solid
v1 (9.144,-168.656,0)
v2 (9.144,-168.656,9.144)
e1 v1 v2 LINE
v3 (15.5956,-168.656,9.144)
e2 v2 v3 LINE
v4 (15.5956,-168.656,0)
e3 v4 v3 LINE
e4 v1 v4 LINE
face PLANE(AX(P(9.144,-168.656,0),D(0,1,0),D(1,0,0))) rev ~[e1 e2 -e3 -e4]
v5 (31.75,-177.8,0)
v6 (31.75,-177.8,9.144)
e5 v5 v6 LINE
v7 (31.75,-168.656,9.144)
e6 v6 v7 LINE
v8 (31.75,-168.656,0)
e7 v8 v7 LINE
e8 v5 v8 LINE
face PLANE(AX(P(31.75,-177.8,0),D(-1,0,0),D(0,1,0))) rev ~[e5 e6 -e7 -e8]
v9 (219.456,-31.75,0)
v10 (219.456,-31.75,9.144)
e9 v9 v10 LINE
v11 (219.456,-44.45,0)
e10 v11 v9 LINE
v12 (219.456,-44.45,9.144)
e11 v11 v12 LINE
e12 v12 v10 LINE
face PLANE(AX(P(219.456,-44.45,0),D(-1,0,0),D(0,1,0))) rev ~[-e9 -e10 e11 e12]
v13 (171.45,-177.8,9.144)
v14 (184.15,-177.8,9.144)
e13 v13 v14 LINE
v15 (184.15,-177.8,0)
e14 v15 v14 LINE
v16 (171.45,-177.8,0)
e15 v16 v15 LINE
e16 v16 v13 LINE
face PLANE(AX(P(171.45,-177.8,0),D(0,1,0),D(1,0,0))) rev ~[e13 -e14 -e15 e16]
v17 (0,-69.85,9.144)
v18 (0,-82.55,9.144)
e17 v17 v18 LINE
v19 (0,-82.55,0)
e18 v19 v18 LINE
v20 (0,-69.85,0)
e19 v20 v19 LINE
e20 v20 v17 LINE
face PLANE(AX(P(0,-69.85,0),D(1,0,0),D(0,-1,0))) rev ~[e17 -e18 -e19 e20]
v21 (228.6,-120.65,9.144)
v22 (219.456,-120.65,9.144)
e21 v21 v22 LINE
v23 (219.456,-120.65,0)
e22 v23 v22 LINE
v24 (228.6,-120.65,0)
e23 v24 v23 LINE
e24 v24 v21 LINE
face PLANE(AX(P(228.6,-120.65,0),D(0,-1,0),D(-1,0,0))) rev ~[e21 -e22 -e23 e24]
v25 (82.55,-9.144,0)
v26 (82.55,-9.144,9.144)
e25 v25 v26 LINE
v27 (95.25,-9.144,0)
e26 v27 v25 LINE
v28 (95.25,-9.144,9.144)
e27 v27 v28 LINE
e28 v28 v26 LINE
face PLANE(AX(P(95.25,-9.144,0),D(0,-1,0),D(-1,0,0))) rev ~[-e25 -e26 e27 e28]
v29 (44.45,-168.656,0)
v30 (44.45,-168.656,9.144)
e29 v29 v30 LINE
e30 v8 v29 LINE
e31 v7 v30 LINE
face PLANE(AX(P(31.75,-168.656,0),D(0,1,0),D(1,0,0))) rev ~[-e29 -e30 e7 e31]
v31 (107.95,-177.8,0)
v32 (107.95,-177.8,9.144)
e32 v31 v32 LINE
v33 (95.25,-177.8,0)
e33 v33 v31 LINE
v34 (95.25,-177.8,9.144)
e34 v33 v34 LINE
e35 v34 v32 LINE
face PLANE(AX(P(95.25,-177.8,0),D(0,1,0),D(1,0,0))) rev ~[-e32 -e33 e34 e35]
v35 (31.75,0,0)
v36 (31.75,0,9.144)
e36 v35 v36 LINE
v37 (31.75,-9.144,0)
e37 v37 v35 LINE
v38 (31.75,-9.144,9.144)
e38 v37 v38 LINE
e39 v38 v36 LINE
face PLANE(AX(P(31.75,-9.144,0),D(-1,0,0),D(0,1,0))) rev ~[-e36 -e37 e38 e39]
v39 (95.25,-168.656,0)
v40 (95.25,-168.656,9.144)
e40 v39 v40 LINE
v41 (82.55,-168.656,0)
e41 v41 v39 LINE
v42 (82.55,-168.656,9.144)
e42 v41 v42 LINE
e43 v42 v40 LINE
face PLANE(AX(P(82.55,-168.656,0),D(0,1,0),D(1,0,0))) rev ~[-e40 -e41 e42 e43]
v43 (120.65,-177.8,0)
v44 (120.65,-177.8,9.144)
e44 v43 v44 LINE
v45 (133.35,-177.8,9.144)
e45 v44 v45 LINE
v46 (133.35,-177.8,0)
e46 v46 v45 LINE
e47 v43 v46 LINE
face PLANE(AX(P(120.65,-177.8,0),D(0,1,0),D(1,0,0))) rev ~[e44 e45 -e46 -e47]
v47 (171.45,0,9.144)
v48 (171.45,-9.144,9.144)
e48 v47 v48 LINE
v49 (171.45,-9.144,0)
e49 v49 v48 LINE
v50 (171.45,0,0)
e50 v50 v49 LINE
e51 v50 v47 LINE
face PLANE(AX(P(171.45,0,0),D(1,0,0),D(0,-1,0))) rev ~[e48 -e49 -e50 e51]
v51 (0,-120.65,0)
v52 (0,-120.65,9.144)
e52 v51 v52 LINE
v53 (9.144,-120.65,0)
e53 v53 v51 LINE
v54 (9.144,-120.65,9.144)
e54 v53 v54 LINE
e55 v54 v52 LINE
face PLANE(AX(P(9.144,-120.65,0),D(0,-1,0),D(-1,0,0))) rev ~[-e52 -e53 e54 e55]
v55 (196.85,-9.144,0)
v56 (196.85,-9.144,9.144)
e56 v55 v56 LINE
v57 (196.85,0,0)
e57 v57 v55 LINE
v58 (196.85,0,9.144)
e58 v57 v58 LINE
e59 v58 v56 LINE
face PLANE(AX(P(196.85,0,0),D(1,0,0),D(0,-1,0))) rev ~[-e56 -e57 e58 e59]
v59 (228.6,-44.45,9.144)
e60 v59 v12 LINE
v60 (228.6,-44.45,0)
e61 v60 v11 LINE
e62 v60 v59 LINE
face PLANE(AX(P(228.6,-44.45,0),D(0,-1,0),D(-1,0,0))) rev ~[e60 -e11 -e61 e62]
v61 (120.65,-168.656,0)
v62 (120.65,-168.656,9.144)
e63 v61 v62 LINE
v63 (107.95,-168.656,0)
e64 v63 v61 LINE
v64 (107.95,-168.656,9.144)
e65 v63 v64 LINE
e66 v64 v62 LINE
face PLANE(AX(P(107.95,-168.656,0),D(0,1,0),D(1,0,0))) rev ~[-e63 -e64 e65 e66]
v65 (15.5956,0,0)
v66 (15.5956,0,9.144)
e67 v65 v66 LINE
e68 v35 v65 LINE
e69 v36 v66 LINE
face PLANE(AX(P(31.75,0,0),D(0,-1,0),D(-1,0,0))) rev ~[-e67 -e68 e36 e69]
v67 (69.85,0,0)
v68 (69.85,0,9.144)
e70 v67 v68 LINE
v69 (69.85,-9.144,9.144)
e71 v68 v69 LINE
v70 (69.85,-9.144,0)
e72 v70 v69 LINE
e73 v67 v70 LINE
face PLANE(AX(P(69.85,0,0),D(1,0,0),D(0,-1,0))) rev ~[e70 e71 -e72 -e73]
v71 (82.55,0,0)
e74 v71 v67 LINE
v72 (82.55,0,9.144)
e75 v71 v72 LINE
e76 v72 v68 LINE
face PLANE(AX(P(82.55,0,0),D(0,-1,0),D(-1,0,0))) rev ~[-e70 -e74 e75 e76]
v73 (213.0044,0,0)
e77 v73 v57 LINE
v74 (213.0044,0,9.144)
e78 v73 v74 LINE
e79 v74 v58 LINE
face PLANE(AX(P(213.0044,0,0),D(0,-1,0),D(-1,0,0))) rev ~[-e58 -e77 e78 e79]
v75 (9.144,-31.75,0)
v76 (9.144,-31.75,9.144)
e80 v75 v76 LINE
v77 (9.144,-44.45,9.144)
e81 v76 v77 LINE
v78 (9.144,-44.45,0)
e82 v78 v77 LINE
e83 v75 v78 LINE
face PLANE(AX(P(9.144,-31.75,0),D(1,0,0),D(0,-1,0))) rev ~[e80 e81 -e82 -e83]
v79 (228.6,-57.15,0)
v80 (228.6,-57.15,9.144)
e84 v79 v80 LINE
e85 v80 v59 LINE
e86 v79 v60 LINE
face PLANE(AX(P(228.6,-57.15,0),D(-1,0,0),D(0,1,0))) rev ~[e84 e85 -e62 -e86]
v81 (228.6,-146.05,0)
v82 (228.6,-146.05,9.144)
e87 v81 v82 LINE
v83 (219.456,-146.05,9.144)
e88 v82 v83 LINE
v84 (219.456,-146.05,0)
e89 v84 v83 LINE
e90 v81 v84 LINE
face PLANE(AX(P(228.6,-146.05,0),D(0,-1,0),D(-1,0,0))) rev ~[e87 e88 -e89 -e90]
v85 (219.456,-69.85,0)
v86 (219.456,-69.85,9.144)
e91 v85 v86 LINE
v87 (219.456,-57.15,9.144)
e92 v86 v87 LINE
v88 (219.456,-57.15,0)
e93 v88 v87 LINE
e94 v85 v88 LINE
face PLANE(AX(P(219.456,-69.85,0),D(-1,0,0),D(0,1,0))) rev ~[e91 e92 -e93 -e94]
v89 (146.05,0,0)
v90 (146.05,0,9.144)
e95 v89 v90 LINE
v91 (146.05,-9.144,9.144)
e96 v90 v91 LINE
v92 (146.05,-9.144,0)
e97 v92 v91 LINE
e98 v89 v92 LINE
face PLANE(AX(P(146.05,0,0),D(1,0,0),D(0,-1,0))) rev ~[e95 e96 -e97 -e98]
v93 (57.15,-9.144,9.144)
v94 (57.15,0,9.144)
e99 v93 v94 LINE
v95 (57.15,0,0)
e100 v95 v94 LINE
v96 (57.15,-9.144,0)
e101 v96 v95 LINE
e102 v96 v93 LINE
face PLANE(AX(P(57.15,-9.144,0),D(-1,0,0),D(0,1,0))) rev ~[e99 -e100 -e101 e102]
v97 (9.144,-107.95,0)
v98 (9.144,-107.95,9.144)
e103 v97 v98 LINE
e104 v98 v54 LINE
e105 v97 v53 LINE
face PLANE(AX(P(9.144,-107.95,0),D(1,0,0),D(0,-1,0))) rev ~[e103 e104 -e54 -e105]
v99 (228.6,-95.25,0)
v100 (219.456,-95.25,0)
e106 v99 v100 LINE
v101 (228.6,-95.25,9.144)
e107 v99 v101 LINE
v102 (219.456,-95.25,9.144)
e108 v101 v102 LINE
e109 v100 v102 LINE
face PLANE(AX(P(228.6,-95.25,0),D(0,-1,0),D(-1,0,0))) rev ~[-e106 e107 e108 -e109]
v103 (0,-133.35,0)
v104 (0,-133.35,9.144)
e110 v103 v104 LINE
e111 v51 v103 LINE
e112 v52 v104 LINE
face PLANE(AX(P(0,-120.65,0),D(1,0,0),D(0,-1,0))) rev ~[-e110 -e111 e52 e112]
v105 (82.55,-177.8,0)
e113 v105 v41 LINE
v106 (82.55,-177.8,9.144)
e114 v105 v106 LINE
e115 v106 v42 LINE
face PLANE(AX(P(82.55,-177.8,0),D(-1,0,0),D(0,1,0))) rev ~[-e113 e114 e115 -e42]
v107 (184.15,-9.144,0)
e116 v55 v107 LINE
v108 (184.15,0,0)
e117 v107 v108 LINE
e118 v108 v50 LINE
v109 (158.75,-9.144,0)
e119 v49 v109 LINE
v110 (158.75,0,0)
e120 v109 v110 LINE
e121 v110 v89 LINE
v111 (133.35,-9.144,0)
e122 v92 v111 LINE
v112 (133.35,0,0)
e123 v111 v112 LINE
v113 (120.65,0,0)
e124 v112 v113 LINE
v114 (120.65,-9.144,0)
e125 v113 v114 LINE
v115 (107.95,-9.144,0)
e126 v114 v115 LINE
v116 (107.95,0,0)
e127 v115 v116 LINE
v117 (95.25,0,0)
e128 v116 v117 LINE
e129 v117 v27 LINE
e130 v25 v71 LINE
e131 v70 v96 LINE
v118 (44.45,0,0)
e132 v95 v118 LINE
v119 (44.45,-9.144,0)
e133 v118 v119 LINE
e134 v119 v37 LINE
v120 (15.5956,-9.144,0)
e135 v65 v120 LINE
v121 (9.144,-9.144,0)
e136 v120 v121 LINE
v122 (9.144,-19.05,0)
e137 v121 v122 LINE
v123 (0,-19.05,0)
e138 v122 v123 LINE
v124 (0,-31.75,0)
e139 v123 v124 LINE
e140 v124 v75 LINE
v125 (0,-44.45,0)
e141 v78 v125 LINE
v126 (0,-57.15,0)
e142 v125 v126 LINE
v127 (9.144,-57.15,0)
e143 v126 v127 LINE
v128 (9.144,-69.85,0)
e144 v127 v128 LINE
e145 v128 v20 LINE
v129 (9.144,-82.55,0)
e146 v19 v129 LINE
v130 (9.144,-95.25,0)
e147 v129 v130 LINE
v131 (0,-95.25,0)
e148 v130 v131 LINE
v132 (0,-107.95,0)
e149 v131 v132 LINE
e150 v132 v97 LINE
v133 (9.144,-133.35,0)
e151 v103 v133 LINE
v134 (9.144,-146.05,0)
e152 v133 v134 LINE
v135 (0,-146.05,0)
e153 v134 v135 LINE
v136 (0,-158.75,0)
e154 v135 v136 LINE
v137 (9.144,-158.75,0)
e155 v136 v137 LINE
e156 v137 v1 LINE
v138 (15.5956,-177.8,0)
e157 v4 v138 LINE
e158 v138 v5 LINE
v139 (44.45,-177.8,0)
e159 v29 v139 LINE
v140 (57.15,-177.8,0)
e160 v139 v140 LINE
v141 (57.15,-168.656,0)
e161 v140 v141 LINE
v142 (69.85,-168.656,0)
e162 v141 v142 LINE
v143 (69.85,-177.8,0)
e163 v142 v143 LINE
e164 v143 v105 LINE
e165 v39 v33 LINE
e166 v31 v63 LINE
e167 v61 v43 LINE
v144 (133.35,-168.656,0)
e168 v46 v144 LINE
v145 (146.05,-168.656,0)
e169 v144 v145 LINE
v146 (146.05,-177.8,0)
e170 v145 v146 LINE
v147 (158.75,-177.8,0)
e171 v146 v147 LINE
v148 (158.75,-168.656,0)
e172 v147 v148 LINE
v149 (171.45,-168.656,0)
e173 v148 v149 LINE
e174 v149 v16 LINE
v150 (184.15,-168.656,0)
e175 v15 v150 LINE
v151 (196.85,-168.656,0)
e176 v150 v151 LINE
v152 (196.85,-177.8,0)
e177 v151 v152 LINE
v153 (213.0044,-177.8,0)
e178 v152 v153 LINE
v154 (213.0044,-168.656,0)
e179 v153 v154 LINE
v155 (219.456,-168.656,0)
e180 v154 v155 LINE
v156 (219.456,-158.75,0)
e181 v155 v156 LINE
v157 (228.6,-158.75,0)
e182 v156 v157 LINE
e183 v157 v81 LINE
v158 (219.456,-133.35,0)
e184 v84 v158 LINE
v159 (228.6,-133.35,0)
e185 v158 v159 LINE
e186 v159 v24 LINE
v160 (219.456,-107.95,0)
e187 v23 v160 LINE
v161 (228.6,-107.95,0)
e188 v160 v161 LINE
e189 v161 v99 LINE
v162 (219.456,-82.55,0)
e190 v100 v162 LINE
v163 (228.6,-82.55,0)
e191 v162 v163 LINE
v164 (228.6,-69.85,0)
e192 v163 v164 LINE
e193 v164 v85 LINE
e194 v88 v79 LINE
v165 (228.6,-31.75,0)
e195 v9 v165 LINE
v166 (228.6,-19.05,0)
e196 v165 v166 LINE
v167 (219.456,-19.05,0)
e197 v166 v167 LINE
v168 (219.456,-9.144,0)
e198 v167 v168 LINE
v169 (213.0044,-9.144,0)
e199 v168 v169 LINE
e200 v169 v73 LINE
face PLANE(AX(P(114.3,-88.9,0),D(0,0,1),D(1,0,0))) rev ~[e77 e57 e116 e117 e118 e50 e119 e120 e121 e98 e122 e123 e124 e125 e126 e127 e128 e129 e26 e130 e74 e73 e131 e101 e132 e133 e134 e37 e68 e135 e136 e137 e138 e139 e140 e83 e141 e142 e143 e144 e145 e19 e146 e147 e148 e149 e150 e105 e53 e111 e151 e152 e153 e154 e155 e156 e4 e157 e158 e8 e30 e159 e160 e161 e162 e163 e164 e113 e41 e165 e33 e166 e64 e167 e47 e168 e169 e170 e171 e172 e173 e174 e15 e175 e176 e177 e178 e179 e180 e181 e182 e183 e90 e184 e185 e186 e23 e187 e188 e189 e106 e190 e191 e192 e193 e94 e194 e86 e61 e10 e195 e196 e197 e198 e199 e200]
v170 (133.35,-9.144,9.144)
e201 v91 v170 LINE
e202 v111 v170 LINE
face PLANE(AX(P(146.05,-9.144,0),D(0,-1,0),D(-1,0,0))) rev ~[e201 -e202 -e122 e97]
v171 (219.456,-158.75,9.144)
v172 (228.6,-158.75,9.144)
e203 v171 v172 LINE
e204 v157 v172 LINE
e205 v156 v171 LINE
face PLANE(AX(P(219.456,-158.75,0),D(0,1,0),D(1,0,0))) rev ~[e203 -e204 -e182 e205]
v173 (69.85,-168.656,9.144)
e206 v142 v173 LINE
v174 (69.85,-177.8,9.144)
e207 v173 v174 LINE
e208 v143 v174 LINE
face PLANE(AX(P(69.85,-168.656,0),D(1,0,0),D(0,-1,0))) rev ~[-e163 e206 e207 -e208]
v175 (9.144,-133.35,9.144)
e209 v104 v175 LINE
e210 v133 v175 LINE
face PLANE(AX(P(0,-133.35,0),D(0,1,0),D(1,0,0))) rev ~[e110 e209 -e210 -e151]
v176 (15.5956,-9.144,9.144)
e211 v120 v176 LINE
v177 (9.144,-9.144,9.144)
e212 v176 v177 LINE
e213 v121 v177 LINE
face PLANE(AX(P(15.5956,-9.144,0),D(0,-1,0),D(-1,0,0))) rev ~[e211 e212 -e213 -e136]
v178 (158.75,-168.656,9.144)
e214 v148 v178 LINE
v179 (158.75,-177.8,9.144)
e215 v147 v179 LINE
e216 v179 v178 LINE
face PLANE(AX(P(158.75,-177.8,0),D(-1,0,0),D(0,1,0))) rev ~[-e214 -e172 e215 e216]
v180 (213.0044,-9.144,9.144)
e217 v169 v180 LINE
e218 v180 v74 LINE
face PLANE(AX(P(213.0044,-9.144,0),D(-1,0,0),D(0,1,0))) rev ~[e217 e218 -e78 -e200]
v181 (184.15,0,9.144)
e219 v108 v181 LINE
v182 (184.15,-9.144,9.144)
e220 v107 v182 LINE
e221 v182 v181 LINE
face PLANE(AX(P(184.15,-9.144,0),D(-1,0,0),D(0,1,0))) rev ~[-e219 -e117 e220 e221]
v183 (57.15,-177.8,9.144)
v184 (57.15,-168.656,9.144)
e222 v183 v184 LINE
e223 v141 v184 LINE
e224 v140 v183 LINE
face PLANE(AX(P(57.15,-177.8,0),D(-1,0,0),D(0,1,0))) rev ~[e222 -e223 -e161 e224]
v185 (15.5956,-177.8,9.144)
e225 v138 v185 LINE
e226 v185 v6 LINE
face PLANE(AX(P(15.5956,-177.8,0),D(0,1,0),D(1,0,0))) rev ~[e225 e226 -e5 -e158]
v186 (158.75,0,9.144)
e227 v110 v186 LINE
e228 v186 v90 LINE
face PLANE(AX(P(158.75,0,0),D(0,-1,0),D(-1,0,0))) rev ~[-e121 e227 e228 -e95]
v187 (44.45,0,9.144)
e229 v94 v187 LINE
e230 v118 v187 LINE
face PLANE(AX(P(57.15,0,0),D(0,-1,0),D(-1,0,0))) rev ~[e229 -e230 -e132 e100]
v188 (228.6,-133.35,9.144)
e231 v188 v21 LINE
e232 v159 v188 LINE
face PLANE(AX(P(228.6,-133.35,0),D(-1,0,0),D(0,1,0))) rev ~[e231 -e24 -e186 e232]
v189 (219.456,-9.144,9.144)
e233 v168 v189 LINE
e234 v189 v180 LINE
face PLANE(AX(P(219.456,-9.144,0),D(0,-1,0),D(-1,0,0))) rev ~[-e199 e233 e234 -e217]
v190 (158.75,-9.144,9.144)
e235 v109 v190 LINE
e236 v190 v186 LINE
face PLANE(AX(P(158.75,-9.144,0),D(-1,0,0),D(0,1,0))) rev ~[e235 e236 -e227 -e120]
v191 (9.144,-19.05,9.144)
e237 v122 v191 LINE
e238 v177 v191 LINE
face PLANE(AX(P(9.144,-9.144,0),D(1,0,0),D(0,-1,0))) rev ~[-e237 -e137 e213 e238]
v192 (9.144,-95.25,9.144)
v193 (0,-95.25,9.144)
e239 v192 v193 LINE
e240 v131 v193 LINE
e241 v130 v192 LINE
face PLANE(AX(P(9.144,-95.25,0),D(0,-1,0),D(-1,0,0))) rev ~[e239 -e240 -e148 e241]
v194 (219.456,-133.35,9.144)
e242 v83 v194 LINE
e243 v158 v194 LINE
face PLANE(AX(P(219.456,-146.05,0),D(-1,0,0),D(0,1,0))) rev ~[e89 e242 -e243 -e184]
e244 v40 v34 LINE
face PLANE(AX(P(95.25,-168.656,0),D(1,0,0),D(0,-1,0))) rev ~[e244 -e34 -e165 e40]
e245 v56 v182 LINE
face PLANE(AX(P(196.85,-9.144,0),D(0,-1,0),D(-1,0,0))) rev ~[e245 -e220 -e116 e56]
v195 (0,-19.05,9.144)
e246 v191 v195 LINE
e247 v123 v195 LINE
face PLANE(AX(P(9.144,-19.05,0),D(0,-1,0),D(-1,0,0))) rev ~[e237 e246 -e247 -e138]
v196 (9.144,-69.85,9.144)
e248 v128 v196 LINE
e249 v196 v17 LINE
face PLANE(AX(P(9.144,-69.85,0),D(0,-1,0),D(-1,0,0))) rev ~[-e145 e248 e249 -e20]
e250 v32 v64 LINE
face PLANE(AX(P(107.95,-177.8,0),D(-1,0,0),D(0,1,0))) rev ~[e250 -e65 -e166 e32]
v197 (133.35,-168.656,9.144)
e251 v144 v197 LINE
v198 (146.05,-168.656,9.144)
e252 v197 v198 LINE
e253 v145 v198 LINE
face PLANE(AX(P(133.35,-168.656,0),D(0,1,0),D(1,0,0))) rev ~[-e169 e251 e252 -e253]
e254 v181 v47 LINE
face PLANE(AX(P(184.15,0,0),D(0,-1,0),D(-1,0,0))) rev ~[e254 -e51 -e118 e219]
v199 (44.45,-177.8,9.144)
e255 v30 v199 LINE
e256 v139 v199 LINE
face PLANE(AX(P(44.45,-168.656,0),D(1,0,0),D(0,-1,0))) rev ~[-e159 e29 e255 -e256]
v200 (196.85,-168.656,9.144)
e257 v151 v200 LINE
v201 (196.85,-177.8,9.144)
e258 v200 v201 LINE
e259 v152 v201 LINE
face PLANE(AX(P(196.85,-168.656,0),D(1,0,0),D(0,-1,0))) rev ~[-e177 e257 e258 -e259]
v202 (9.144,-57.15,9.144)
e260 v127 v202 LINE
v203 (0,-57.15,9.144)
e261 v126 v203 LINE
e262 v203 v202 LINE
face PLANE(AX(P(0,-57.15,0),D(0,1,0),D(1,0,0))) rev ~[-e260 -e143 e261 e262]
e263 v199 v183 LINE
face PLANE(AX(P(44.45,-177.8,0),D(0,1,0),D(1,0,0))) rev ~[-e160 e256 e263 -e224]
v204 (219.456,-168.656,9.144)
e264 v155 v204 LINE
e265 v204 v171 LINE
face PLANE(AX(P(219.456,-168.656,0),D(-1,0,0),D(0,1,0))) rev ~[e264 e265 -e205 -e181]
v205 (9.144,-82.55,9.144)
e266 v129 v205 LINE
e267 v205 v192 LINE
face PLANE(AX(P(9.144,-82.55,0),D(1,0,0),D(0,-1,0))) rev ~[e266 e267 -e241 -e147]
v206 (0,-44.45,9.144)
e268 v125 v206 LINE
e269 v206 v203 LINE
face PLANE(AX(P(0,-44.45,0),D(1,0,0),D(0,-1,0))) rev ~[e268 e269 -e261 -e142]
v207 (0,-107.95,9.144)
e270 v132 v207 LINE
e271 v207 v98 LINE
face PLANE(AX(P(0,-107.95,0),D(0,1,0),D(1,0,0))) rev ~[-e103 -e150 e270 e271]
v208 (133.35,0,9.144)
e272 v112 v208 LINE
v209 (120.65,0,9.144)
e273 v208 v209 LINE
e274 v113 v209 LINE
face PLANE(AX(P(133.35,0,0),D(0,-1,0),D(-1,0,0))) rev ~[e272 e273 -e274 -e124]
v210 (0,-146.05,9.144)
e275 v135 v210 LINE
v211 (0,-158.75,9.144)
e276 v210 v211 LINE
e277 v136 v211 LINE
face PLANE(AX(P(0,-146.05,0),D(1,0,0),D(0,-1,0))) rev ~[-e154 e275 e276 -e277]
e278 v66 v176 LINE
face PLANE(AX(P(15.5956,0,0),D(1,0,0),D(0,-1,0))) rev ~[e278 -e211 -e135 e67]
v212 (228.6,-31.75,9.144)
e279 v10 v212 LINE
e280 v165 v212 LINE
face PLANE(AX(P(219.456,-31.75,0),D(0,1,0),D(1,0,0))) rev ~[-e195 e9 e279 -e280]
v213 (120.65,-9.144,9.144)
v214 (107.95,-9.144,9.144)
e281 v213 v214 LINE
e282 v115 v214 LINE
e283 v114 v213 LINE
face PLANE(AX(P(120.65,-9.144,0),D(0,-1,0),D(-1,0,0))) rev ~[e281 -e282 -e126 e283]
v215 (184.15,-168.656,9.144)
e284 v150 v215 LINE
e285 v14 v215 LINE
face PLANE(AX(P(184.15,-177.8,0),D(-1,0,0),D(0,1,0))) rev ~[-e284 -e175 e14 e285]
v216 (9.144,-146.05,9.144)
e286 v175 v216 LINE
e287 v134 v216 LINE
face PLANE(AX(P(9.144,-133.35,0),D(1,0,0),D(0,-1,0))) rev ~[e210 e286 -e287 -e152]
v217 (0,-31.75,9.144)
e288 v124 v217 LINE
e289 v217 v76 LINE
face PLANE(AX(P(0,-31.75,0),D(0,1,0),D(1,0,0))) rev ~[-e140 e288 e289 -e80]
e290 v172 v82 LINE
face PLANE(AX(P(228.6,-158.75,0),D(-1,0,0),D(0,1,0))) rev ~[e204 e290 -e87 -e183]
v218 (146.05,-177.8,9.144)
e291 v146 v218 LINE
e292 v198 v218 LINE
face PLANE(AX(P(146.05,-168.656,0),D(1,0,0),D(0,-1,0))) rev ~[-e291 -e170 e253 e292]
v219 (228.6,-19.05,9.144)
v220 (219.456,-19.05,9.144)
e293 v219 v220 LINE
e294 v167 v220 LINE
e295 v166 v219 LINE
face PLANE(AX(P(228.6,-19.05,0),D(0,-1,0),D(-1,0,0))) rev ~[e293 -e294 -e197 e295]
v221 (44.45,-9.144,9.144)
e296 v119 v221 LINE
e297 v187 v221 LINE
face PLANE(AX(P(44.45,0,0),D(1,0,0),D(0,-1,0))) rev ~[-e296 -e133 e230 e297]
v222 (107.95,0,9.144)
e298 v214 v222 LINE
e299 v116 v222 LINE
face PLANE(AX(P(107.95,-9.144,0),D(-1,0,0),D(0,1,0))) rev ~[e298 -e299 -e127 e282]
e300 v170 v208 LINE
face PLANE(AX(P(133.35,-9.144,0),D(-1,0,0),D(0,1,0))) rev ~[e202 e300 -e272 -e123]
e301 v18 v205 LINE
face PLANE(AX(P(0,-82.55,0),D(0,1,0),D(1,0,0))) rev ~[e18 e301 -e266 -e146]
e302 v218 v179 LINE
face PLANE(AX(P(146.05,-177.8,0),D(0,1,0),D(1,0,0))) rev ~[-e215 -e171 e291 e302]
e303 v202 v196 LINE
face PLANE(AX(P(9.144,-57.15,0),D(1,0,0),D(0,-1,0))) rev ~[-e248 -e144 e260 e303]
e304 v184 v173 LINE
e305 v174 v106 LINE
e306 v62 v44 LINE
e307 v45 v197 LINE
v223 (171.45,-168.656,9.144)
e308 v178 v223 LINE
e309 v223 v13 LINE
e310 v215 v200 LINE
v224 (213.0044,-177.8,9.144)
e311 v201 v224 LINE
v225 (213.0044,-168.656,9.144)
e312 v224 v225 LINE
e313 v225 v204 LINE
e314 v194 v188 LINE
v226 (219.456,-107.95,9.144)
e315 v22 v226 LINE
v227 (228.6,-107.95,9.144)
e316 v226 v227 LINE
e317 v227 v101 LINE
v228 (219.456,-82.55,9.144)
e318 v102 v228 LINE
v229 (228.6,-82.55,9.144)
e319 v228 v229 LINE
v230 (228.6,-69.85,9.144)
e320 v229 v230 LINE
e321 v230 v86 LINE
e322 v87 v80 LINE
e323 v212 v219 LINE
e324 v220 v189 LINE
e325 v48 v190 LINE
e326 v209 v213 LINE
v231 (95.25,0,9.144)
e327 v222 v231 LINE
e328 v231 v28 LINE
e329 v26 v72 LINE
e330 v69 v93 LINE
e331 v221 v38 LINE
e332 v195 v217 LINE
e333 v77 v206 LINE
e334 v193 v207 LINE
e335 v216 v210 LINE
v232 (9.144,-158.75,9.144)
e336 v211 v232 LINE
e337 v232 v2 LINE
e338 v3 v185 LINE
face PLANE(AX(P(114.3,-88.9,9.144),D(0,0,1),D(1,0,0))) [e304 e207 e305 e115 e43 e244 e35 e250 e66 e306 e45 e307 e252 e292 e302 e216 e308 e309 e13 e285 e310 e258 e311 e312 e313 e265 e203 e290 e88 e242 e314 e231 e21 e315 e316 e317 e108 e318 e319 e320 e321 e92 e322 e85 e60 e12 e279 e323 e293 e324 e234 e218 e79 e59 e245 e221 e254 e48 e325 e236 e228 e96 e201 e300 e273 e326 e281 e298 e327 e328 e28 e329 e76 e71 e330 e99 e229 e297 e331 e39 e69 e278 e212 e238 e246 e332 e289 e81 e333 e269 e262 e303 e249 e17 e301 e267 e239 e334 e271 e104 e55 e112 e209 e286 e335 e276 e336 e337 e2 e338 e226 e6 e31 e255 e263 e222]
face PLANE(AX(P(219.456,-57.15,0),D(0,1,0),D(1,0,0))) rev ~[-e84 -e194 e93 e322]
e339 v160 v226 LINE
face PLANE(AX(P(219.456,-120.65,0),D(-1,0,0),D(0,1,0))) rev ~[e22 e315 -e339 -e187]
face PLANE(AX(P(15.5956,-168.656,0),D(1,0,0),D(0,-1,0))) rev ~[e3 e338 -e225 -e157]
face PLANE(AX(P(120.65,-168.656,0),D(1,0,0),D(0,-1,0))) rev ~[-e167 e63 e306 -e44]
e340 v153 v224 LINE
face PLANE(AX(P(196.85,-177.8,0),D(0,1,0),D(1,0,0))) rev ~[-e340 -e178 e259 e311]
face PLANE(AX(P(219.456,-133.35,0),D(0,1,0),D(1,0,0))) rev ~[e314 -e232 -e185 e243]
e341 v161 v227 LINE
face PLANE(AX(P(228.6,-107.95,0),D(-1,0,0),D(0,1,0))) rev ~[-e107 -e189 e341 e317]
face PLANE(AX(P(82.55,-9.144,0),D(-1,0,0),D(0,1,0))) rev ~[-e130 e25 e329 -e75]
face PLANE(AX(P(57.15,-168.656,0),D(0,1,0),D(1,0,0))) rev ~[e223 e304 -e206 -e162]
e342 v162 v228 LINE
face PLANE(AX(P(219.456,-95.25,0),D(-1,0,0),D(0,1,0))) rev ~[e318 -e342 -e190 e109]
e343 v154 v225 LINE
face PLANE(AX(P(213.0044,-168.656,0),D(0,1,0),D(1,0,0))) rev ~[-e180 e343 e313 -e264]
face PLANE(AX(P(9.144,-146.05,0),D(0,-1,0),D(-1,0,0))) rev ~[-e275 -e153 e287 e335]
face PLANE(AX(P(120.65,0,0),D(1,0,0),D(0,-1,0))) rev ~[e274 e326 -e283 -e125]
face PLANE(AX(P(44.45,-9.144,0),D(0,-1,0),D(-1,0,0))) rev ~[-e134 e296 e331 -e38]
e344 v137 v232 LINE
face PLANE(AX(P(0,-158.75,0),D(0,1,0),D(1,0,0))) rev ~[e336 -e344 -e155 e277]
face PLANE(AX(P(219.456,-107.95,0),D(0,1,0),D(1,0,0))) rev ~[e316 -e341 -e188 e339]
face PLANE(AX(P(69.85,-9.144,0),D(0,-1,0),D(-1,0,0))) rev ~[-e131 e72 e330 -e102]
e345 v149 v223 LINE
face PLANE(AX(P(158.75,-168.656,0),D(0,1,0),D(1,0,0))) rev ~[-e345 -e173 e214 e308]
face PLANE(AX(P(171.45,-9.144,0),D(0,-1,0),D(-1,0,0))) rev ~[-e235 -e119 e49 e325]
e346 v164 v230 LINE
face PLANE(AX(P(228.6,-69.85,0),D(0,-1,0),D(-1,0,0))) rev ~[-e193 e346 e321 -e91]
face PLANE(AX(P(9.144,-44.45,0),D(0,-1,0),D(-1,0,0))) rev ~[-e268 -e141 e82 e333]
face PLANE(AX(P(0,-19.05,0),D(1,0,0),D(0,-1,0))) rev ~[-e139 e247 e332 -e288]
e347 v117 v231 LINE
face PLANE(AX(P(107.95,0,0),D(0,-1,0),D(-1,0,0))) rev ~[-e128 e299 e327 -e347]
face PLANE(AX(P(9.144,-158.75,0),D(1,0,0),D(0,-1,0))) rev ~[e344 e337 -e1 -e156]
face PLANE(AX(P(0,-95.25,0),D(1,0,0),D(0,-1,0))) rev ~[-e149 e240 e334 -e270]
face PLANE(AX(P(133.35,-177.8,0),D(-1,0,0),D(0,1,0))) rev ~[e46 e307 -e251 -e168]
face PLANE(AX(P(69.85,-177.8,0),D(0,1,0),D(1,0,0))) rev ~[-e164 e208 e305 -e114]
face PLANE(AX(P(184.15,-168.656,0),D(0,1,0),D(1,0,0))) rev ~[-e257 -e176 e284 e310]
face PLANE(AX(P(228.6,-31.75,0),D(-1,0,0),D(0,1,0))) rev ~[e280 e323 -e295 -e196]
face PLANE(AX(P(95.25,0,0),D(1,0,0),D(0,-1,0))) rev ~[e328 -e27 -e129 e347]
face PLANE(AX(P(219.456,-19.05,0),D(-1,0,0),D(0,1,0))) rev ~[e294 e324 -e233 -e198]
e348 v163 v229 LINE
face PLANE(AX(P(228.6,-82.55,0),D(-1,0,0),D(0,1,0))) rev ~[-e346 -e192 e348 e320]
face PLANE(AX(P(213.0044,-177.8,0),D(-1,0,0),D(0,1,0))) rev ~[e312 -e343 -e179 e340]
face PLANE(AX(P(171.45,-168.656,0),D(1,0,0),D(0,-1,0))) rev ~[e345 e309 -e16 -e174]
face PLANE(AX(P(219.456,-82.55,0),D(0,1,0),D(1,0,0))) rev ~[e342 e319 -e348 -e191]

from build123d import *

# Parameters (mm, degrees)
F1_DEPTH = 9.144


with BuildPart() as f1:
    # F0 (on Top) → F1 (new body)
    with BuildSketch(Plane.XY):
        Polygon((31.75, 0), (15.5956, 0), (15.5956, -9.144), (9.144, -9.144), (9.144, -19.05), (0, -19.05), (0, -31.75), (9.144, -31.75), (9.144, -44.45), (0, -44.45), (0, -57.15), (9.144, -57.15), (9.144, -69.85), (0, -69.85), (0, -82.55), (9.144, -82.55), (9.144, -88.9), (9.144, -95.25), (0, -95.25), (0, -107.95), (9.144, -107.95), (9.144, -120.65), (0, -120.65), (0, -133.35), (9.144, -133.35), (9.144, -146.05), (0, -146.05), (0, -158.75), (9.144, -158.75), (9.144, -168.656), (15.5956, -168.656), (15.5956, -177.8), (31.75, -177.8), (31.75, -168.656), (44.45, -168.656), (44.45, -177.8), (57.15, -177.8), (57.15, -168.656), (69.85, -168.656), (69.85, -177.8), (82.55, -177.8), (82.55, -168.656), (95.25, -168.656), (95.25, -177.8), (107.95, -177.8), (107.95, -168.656), (114.3, -168.656), (120.65, -168.656), (120.65, -177.8), (133.35, -177.8), (133.35, -168.656), (146.05, -168.656), (146.05, -177.8), (158.75, -177.8), (158.75, -168.656), (171.45, -168.656), (171.45, -177.8), (184.15, -177.8), (184.15, -168.656), (196.85, -168.656), (196.85, -177.8), (213.0044, -177.8), (213.0044, -168.656), (219.456, -168.656), (219.456, -158.75), (228.6, -158.75), (228.6, -146.05), (219.456, -146.05), (219.456, -133.35), (228.6, -133.35), (228.6, -120.65), (219.456, -120.65), (219.456, -107.95), (228.6, -107.95), (228.6, -95.25), (219.456, -95.25), (219.456, -88.9), (219.456, -82.55), (228.6, -82.55), (228.6, -69.85), (219.456, -69.85), (219.456, -57.15), (228.6, -57.15), (228.6, -44.45), (219.456, -44.45), (219.456, -31.75), (228.6, -31.75), (228.6, -19.05), (219.456, -19.05), (219.456, -9.144), (213.0044, -9.144), (213.0044, 0), (196.85, 0), (196.85, -9.144), (184.15, -9.144), (184.15, 0), (171.45, 0), (171.45, -9.144), (158.75, -9.144), (158.75, 0), (146.05, 0), (146.05, -9.144), (133.35, -9.144), (133.35, 0), (120.65, 0), (120.65, -9.144), (114.3, -9.144), (107.95, -9.144), (107.95, 0), (95.25, 0), (95.25, -9.144), (82.55, -9.144), (82.55, 0), (69.85, 0), (69.85, -9.144), (57.15, -9.144), (57.15, 0), (44.45, 0), (44.45, -9.144), (31.75, -9.144), align=None)
    extrude(amount=F1_DEPTH)


solid = f1.part
